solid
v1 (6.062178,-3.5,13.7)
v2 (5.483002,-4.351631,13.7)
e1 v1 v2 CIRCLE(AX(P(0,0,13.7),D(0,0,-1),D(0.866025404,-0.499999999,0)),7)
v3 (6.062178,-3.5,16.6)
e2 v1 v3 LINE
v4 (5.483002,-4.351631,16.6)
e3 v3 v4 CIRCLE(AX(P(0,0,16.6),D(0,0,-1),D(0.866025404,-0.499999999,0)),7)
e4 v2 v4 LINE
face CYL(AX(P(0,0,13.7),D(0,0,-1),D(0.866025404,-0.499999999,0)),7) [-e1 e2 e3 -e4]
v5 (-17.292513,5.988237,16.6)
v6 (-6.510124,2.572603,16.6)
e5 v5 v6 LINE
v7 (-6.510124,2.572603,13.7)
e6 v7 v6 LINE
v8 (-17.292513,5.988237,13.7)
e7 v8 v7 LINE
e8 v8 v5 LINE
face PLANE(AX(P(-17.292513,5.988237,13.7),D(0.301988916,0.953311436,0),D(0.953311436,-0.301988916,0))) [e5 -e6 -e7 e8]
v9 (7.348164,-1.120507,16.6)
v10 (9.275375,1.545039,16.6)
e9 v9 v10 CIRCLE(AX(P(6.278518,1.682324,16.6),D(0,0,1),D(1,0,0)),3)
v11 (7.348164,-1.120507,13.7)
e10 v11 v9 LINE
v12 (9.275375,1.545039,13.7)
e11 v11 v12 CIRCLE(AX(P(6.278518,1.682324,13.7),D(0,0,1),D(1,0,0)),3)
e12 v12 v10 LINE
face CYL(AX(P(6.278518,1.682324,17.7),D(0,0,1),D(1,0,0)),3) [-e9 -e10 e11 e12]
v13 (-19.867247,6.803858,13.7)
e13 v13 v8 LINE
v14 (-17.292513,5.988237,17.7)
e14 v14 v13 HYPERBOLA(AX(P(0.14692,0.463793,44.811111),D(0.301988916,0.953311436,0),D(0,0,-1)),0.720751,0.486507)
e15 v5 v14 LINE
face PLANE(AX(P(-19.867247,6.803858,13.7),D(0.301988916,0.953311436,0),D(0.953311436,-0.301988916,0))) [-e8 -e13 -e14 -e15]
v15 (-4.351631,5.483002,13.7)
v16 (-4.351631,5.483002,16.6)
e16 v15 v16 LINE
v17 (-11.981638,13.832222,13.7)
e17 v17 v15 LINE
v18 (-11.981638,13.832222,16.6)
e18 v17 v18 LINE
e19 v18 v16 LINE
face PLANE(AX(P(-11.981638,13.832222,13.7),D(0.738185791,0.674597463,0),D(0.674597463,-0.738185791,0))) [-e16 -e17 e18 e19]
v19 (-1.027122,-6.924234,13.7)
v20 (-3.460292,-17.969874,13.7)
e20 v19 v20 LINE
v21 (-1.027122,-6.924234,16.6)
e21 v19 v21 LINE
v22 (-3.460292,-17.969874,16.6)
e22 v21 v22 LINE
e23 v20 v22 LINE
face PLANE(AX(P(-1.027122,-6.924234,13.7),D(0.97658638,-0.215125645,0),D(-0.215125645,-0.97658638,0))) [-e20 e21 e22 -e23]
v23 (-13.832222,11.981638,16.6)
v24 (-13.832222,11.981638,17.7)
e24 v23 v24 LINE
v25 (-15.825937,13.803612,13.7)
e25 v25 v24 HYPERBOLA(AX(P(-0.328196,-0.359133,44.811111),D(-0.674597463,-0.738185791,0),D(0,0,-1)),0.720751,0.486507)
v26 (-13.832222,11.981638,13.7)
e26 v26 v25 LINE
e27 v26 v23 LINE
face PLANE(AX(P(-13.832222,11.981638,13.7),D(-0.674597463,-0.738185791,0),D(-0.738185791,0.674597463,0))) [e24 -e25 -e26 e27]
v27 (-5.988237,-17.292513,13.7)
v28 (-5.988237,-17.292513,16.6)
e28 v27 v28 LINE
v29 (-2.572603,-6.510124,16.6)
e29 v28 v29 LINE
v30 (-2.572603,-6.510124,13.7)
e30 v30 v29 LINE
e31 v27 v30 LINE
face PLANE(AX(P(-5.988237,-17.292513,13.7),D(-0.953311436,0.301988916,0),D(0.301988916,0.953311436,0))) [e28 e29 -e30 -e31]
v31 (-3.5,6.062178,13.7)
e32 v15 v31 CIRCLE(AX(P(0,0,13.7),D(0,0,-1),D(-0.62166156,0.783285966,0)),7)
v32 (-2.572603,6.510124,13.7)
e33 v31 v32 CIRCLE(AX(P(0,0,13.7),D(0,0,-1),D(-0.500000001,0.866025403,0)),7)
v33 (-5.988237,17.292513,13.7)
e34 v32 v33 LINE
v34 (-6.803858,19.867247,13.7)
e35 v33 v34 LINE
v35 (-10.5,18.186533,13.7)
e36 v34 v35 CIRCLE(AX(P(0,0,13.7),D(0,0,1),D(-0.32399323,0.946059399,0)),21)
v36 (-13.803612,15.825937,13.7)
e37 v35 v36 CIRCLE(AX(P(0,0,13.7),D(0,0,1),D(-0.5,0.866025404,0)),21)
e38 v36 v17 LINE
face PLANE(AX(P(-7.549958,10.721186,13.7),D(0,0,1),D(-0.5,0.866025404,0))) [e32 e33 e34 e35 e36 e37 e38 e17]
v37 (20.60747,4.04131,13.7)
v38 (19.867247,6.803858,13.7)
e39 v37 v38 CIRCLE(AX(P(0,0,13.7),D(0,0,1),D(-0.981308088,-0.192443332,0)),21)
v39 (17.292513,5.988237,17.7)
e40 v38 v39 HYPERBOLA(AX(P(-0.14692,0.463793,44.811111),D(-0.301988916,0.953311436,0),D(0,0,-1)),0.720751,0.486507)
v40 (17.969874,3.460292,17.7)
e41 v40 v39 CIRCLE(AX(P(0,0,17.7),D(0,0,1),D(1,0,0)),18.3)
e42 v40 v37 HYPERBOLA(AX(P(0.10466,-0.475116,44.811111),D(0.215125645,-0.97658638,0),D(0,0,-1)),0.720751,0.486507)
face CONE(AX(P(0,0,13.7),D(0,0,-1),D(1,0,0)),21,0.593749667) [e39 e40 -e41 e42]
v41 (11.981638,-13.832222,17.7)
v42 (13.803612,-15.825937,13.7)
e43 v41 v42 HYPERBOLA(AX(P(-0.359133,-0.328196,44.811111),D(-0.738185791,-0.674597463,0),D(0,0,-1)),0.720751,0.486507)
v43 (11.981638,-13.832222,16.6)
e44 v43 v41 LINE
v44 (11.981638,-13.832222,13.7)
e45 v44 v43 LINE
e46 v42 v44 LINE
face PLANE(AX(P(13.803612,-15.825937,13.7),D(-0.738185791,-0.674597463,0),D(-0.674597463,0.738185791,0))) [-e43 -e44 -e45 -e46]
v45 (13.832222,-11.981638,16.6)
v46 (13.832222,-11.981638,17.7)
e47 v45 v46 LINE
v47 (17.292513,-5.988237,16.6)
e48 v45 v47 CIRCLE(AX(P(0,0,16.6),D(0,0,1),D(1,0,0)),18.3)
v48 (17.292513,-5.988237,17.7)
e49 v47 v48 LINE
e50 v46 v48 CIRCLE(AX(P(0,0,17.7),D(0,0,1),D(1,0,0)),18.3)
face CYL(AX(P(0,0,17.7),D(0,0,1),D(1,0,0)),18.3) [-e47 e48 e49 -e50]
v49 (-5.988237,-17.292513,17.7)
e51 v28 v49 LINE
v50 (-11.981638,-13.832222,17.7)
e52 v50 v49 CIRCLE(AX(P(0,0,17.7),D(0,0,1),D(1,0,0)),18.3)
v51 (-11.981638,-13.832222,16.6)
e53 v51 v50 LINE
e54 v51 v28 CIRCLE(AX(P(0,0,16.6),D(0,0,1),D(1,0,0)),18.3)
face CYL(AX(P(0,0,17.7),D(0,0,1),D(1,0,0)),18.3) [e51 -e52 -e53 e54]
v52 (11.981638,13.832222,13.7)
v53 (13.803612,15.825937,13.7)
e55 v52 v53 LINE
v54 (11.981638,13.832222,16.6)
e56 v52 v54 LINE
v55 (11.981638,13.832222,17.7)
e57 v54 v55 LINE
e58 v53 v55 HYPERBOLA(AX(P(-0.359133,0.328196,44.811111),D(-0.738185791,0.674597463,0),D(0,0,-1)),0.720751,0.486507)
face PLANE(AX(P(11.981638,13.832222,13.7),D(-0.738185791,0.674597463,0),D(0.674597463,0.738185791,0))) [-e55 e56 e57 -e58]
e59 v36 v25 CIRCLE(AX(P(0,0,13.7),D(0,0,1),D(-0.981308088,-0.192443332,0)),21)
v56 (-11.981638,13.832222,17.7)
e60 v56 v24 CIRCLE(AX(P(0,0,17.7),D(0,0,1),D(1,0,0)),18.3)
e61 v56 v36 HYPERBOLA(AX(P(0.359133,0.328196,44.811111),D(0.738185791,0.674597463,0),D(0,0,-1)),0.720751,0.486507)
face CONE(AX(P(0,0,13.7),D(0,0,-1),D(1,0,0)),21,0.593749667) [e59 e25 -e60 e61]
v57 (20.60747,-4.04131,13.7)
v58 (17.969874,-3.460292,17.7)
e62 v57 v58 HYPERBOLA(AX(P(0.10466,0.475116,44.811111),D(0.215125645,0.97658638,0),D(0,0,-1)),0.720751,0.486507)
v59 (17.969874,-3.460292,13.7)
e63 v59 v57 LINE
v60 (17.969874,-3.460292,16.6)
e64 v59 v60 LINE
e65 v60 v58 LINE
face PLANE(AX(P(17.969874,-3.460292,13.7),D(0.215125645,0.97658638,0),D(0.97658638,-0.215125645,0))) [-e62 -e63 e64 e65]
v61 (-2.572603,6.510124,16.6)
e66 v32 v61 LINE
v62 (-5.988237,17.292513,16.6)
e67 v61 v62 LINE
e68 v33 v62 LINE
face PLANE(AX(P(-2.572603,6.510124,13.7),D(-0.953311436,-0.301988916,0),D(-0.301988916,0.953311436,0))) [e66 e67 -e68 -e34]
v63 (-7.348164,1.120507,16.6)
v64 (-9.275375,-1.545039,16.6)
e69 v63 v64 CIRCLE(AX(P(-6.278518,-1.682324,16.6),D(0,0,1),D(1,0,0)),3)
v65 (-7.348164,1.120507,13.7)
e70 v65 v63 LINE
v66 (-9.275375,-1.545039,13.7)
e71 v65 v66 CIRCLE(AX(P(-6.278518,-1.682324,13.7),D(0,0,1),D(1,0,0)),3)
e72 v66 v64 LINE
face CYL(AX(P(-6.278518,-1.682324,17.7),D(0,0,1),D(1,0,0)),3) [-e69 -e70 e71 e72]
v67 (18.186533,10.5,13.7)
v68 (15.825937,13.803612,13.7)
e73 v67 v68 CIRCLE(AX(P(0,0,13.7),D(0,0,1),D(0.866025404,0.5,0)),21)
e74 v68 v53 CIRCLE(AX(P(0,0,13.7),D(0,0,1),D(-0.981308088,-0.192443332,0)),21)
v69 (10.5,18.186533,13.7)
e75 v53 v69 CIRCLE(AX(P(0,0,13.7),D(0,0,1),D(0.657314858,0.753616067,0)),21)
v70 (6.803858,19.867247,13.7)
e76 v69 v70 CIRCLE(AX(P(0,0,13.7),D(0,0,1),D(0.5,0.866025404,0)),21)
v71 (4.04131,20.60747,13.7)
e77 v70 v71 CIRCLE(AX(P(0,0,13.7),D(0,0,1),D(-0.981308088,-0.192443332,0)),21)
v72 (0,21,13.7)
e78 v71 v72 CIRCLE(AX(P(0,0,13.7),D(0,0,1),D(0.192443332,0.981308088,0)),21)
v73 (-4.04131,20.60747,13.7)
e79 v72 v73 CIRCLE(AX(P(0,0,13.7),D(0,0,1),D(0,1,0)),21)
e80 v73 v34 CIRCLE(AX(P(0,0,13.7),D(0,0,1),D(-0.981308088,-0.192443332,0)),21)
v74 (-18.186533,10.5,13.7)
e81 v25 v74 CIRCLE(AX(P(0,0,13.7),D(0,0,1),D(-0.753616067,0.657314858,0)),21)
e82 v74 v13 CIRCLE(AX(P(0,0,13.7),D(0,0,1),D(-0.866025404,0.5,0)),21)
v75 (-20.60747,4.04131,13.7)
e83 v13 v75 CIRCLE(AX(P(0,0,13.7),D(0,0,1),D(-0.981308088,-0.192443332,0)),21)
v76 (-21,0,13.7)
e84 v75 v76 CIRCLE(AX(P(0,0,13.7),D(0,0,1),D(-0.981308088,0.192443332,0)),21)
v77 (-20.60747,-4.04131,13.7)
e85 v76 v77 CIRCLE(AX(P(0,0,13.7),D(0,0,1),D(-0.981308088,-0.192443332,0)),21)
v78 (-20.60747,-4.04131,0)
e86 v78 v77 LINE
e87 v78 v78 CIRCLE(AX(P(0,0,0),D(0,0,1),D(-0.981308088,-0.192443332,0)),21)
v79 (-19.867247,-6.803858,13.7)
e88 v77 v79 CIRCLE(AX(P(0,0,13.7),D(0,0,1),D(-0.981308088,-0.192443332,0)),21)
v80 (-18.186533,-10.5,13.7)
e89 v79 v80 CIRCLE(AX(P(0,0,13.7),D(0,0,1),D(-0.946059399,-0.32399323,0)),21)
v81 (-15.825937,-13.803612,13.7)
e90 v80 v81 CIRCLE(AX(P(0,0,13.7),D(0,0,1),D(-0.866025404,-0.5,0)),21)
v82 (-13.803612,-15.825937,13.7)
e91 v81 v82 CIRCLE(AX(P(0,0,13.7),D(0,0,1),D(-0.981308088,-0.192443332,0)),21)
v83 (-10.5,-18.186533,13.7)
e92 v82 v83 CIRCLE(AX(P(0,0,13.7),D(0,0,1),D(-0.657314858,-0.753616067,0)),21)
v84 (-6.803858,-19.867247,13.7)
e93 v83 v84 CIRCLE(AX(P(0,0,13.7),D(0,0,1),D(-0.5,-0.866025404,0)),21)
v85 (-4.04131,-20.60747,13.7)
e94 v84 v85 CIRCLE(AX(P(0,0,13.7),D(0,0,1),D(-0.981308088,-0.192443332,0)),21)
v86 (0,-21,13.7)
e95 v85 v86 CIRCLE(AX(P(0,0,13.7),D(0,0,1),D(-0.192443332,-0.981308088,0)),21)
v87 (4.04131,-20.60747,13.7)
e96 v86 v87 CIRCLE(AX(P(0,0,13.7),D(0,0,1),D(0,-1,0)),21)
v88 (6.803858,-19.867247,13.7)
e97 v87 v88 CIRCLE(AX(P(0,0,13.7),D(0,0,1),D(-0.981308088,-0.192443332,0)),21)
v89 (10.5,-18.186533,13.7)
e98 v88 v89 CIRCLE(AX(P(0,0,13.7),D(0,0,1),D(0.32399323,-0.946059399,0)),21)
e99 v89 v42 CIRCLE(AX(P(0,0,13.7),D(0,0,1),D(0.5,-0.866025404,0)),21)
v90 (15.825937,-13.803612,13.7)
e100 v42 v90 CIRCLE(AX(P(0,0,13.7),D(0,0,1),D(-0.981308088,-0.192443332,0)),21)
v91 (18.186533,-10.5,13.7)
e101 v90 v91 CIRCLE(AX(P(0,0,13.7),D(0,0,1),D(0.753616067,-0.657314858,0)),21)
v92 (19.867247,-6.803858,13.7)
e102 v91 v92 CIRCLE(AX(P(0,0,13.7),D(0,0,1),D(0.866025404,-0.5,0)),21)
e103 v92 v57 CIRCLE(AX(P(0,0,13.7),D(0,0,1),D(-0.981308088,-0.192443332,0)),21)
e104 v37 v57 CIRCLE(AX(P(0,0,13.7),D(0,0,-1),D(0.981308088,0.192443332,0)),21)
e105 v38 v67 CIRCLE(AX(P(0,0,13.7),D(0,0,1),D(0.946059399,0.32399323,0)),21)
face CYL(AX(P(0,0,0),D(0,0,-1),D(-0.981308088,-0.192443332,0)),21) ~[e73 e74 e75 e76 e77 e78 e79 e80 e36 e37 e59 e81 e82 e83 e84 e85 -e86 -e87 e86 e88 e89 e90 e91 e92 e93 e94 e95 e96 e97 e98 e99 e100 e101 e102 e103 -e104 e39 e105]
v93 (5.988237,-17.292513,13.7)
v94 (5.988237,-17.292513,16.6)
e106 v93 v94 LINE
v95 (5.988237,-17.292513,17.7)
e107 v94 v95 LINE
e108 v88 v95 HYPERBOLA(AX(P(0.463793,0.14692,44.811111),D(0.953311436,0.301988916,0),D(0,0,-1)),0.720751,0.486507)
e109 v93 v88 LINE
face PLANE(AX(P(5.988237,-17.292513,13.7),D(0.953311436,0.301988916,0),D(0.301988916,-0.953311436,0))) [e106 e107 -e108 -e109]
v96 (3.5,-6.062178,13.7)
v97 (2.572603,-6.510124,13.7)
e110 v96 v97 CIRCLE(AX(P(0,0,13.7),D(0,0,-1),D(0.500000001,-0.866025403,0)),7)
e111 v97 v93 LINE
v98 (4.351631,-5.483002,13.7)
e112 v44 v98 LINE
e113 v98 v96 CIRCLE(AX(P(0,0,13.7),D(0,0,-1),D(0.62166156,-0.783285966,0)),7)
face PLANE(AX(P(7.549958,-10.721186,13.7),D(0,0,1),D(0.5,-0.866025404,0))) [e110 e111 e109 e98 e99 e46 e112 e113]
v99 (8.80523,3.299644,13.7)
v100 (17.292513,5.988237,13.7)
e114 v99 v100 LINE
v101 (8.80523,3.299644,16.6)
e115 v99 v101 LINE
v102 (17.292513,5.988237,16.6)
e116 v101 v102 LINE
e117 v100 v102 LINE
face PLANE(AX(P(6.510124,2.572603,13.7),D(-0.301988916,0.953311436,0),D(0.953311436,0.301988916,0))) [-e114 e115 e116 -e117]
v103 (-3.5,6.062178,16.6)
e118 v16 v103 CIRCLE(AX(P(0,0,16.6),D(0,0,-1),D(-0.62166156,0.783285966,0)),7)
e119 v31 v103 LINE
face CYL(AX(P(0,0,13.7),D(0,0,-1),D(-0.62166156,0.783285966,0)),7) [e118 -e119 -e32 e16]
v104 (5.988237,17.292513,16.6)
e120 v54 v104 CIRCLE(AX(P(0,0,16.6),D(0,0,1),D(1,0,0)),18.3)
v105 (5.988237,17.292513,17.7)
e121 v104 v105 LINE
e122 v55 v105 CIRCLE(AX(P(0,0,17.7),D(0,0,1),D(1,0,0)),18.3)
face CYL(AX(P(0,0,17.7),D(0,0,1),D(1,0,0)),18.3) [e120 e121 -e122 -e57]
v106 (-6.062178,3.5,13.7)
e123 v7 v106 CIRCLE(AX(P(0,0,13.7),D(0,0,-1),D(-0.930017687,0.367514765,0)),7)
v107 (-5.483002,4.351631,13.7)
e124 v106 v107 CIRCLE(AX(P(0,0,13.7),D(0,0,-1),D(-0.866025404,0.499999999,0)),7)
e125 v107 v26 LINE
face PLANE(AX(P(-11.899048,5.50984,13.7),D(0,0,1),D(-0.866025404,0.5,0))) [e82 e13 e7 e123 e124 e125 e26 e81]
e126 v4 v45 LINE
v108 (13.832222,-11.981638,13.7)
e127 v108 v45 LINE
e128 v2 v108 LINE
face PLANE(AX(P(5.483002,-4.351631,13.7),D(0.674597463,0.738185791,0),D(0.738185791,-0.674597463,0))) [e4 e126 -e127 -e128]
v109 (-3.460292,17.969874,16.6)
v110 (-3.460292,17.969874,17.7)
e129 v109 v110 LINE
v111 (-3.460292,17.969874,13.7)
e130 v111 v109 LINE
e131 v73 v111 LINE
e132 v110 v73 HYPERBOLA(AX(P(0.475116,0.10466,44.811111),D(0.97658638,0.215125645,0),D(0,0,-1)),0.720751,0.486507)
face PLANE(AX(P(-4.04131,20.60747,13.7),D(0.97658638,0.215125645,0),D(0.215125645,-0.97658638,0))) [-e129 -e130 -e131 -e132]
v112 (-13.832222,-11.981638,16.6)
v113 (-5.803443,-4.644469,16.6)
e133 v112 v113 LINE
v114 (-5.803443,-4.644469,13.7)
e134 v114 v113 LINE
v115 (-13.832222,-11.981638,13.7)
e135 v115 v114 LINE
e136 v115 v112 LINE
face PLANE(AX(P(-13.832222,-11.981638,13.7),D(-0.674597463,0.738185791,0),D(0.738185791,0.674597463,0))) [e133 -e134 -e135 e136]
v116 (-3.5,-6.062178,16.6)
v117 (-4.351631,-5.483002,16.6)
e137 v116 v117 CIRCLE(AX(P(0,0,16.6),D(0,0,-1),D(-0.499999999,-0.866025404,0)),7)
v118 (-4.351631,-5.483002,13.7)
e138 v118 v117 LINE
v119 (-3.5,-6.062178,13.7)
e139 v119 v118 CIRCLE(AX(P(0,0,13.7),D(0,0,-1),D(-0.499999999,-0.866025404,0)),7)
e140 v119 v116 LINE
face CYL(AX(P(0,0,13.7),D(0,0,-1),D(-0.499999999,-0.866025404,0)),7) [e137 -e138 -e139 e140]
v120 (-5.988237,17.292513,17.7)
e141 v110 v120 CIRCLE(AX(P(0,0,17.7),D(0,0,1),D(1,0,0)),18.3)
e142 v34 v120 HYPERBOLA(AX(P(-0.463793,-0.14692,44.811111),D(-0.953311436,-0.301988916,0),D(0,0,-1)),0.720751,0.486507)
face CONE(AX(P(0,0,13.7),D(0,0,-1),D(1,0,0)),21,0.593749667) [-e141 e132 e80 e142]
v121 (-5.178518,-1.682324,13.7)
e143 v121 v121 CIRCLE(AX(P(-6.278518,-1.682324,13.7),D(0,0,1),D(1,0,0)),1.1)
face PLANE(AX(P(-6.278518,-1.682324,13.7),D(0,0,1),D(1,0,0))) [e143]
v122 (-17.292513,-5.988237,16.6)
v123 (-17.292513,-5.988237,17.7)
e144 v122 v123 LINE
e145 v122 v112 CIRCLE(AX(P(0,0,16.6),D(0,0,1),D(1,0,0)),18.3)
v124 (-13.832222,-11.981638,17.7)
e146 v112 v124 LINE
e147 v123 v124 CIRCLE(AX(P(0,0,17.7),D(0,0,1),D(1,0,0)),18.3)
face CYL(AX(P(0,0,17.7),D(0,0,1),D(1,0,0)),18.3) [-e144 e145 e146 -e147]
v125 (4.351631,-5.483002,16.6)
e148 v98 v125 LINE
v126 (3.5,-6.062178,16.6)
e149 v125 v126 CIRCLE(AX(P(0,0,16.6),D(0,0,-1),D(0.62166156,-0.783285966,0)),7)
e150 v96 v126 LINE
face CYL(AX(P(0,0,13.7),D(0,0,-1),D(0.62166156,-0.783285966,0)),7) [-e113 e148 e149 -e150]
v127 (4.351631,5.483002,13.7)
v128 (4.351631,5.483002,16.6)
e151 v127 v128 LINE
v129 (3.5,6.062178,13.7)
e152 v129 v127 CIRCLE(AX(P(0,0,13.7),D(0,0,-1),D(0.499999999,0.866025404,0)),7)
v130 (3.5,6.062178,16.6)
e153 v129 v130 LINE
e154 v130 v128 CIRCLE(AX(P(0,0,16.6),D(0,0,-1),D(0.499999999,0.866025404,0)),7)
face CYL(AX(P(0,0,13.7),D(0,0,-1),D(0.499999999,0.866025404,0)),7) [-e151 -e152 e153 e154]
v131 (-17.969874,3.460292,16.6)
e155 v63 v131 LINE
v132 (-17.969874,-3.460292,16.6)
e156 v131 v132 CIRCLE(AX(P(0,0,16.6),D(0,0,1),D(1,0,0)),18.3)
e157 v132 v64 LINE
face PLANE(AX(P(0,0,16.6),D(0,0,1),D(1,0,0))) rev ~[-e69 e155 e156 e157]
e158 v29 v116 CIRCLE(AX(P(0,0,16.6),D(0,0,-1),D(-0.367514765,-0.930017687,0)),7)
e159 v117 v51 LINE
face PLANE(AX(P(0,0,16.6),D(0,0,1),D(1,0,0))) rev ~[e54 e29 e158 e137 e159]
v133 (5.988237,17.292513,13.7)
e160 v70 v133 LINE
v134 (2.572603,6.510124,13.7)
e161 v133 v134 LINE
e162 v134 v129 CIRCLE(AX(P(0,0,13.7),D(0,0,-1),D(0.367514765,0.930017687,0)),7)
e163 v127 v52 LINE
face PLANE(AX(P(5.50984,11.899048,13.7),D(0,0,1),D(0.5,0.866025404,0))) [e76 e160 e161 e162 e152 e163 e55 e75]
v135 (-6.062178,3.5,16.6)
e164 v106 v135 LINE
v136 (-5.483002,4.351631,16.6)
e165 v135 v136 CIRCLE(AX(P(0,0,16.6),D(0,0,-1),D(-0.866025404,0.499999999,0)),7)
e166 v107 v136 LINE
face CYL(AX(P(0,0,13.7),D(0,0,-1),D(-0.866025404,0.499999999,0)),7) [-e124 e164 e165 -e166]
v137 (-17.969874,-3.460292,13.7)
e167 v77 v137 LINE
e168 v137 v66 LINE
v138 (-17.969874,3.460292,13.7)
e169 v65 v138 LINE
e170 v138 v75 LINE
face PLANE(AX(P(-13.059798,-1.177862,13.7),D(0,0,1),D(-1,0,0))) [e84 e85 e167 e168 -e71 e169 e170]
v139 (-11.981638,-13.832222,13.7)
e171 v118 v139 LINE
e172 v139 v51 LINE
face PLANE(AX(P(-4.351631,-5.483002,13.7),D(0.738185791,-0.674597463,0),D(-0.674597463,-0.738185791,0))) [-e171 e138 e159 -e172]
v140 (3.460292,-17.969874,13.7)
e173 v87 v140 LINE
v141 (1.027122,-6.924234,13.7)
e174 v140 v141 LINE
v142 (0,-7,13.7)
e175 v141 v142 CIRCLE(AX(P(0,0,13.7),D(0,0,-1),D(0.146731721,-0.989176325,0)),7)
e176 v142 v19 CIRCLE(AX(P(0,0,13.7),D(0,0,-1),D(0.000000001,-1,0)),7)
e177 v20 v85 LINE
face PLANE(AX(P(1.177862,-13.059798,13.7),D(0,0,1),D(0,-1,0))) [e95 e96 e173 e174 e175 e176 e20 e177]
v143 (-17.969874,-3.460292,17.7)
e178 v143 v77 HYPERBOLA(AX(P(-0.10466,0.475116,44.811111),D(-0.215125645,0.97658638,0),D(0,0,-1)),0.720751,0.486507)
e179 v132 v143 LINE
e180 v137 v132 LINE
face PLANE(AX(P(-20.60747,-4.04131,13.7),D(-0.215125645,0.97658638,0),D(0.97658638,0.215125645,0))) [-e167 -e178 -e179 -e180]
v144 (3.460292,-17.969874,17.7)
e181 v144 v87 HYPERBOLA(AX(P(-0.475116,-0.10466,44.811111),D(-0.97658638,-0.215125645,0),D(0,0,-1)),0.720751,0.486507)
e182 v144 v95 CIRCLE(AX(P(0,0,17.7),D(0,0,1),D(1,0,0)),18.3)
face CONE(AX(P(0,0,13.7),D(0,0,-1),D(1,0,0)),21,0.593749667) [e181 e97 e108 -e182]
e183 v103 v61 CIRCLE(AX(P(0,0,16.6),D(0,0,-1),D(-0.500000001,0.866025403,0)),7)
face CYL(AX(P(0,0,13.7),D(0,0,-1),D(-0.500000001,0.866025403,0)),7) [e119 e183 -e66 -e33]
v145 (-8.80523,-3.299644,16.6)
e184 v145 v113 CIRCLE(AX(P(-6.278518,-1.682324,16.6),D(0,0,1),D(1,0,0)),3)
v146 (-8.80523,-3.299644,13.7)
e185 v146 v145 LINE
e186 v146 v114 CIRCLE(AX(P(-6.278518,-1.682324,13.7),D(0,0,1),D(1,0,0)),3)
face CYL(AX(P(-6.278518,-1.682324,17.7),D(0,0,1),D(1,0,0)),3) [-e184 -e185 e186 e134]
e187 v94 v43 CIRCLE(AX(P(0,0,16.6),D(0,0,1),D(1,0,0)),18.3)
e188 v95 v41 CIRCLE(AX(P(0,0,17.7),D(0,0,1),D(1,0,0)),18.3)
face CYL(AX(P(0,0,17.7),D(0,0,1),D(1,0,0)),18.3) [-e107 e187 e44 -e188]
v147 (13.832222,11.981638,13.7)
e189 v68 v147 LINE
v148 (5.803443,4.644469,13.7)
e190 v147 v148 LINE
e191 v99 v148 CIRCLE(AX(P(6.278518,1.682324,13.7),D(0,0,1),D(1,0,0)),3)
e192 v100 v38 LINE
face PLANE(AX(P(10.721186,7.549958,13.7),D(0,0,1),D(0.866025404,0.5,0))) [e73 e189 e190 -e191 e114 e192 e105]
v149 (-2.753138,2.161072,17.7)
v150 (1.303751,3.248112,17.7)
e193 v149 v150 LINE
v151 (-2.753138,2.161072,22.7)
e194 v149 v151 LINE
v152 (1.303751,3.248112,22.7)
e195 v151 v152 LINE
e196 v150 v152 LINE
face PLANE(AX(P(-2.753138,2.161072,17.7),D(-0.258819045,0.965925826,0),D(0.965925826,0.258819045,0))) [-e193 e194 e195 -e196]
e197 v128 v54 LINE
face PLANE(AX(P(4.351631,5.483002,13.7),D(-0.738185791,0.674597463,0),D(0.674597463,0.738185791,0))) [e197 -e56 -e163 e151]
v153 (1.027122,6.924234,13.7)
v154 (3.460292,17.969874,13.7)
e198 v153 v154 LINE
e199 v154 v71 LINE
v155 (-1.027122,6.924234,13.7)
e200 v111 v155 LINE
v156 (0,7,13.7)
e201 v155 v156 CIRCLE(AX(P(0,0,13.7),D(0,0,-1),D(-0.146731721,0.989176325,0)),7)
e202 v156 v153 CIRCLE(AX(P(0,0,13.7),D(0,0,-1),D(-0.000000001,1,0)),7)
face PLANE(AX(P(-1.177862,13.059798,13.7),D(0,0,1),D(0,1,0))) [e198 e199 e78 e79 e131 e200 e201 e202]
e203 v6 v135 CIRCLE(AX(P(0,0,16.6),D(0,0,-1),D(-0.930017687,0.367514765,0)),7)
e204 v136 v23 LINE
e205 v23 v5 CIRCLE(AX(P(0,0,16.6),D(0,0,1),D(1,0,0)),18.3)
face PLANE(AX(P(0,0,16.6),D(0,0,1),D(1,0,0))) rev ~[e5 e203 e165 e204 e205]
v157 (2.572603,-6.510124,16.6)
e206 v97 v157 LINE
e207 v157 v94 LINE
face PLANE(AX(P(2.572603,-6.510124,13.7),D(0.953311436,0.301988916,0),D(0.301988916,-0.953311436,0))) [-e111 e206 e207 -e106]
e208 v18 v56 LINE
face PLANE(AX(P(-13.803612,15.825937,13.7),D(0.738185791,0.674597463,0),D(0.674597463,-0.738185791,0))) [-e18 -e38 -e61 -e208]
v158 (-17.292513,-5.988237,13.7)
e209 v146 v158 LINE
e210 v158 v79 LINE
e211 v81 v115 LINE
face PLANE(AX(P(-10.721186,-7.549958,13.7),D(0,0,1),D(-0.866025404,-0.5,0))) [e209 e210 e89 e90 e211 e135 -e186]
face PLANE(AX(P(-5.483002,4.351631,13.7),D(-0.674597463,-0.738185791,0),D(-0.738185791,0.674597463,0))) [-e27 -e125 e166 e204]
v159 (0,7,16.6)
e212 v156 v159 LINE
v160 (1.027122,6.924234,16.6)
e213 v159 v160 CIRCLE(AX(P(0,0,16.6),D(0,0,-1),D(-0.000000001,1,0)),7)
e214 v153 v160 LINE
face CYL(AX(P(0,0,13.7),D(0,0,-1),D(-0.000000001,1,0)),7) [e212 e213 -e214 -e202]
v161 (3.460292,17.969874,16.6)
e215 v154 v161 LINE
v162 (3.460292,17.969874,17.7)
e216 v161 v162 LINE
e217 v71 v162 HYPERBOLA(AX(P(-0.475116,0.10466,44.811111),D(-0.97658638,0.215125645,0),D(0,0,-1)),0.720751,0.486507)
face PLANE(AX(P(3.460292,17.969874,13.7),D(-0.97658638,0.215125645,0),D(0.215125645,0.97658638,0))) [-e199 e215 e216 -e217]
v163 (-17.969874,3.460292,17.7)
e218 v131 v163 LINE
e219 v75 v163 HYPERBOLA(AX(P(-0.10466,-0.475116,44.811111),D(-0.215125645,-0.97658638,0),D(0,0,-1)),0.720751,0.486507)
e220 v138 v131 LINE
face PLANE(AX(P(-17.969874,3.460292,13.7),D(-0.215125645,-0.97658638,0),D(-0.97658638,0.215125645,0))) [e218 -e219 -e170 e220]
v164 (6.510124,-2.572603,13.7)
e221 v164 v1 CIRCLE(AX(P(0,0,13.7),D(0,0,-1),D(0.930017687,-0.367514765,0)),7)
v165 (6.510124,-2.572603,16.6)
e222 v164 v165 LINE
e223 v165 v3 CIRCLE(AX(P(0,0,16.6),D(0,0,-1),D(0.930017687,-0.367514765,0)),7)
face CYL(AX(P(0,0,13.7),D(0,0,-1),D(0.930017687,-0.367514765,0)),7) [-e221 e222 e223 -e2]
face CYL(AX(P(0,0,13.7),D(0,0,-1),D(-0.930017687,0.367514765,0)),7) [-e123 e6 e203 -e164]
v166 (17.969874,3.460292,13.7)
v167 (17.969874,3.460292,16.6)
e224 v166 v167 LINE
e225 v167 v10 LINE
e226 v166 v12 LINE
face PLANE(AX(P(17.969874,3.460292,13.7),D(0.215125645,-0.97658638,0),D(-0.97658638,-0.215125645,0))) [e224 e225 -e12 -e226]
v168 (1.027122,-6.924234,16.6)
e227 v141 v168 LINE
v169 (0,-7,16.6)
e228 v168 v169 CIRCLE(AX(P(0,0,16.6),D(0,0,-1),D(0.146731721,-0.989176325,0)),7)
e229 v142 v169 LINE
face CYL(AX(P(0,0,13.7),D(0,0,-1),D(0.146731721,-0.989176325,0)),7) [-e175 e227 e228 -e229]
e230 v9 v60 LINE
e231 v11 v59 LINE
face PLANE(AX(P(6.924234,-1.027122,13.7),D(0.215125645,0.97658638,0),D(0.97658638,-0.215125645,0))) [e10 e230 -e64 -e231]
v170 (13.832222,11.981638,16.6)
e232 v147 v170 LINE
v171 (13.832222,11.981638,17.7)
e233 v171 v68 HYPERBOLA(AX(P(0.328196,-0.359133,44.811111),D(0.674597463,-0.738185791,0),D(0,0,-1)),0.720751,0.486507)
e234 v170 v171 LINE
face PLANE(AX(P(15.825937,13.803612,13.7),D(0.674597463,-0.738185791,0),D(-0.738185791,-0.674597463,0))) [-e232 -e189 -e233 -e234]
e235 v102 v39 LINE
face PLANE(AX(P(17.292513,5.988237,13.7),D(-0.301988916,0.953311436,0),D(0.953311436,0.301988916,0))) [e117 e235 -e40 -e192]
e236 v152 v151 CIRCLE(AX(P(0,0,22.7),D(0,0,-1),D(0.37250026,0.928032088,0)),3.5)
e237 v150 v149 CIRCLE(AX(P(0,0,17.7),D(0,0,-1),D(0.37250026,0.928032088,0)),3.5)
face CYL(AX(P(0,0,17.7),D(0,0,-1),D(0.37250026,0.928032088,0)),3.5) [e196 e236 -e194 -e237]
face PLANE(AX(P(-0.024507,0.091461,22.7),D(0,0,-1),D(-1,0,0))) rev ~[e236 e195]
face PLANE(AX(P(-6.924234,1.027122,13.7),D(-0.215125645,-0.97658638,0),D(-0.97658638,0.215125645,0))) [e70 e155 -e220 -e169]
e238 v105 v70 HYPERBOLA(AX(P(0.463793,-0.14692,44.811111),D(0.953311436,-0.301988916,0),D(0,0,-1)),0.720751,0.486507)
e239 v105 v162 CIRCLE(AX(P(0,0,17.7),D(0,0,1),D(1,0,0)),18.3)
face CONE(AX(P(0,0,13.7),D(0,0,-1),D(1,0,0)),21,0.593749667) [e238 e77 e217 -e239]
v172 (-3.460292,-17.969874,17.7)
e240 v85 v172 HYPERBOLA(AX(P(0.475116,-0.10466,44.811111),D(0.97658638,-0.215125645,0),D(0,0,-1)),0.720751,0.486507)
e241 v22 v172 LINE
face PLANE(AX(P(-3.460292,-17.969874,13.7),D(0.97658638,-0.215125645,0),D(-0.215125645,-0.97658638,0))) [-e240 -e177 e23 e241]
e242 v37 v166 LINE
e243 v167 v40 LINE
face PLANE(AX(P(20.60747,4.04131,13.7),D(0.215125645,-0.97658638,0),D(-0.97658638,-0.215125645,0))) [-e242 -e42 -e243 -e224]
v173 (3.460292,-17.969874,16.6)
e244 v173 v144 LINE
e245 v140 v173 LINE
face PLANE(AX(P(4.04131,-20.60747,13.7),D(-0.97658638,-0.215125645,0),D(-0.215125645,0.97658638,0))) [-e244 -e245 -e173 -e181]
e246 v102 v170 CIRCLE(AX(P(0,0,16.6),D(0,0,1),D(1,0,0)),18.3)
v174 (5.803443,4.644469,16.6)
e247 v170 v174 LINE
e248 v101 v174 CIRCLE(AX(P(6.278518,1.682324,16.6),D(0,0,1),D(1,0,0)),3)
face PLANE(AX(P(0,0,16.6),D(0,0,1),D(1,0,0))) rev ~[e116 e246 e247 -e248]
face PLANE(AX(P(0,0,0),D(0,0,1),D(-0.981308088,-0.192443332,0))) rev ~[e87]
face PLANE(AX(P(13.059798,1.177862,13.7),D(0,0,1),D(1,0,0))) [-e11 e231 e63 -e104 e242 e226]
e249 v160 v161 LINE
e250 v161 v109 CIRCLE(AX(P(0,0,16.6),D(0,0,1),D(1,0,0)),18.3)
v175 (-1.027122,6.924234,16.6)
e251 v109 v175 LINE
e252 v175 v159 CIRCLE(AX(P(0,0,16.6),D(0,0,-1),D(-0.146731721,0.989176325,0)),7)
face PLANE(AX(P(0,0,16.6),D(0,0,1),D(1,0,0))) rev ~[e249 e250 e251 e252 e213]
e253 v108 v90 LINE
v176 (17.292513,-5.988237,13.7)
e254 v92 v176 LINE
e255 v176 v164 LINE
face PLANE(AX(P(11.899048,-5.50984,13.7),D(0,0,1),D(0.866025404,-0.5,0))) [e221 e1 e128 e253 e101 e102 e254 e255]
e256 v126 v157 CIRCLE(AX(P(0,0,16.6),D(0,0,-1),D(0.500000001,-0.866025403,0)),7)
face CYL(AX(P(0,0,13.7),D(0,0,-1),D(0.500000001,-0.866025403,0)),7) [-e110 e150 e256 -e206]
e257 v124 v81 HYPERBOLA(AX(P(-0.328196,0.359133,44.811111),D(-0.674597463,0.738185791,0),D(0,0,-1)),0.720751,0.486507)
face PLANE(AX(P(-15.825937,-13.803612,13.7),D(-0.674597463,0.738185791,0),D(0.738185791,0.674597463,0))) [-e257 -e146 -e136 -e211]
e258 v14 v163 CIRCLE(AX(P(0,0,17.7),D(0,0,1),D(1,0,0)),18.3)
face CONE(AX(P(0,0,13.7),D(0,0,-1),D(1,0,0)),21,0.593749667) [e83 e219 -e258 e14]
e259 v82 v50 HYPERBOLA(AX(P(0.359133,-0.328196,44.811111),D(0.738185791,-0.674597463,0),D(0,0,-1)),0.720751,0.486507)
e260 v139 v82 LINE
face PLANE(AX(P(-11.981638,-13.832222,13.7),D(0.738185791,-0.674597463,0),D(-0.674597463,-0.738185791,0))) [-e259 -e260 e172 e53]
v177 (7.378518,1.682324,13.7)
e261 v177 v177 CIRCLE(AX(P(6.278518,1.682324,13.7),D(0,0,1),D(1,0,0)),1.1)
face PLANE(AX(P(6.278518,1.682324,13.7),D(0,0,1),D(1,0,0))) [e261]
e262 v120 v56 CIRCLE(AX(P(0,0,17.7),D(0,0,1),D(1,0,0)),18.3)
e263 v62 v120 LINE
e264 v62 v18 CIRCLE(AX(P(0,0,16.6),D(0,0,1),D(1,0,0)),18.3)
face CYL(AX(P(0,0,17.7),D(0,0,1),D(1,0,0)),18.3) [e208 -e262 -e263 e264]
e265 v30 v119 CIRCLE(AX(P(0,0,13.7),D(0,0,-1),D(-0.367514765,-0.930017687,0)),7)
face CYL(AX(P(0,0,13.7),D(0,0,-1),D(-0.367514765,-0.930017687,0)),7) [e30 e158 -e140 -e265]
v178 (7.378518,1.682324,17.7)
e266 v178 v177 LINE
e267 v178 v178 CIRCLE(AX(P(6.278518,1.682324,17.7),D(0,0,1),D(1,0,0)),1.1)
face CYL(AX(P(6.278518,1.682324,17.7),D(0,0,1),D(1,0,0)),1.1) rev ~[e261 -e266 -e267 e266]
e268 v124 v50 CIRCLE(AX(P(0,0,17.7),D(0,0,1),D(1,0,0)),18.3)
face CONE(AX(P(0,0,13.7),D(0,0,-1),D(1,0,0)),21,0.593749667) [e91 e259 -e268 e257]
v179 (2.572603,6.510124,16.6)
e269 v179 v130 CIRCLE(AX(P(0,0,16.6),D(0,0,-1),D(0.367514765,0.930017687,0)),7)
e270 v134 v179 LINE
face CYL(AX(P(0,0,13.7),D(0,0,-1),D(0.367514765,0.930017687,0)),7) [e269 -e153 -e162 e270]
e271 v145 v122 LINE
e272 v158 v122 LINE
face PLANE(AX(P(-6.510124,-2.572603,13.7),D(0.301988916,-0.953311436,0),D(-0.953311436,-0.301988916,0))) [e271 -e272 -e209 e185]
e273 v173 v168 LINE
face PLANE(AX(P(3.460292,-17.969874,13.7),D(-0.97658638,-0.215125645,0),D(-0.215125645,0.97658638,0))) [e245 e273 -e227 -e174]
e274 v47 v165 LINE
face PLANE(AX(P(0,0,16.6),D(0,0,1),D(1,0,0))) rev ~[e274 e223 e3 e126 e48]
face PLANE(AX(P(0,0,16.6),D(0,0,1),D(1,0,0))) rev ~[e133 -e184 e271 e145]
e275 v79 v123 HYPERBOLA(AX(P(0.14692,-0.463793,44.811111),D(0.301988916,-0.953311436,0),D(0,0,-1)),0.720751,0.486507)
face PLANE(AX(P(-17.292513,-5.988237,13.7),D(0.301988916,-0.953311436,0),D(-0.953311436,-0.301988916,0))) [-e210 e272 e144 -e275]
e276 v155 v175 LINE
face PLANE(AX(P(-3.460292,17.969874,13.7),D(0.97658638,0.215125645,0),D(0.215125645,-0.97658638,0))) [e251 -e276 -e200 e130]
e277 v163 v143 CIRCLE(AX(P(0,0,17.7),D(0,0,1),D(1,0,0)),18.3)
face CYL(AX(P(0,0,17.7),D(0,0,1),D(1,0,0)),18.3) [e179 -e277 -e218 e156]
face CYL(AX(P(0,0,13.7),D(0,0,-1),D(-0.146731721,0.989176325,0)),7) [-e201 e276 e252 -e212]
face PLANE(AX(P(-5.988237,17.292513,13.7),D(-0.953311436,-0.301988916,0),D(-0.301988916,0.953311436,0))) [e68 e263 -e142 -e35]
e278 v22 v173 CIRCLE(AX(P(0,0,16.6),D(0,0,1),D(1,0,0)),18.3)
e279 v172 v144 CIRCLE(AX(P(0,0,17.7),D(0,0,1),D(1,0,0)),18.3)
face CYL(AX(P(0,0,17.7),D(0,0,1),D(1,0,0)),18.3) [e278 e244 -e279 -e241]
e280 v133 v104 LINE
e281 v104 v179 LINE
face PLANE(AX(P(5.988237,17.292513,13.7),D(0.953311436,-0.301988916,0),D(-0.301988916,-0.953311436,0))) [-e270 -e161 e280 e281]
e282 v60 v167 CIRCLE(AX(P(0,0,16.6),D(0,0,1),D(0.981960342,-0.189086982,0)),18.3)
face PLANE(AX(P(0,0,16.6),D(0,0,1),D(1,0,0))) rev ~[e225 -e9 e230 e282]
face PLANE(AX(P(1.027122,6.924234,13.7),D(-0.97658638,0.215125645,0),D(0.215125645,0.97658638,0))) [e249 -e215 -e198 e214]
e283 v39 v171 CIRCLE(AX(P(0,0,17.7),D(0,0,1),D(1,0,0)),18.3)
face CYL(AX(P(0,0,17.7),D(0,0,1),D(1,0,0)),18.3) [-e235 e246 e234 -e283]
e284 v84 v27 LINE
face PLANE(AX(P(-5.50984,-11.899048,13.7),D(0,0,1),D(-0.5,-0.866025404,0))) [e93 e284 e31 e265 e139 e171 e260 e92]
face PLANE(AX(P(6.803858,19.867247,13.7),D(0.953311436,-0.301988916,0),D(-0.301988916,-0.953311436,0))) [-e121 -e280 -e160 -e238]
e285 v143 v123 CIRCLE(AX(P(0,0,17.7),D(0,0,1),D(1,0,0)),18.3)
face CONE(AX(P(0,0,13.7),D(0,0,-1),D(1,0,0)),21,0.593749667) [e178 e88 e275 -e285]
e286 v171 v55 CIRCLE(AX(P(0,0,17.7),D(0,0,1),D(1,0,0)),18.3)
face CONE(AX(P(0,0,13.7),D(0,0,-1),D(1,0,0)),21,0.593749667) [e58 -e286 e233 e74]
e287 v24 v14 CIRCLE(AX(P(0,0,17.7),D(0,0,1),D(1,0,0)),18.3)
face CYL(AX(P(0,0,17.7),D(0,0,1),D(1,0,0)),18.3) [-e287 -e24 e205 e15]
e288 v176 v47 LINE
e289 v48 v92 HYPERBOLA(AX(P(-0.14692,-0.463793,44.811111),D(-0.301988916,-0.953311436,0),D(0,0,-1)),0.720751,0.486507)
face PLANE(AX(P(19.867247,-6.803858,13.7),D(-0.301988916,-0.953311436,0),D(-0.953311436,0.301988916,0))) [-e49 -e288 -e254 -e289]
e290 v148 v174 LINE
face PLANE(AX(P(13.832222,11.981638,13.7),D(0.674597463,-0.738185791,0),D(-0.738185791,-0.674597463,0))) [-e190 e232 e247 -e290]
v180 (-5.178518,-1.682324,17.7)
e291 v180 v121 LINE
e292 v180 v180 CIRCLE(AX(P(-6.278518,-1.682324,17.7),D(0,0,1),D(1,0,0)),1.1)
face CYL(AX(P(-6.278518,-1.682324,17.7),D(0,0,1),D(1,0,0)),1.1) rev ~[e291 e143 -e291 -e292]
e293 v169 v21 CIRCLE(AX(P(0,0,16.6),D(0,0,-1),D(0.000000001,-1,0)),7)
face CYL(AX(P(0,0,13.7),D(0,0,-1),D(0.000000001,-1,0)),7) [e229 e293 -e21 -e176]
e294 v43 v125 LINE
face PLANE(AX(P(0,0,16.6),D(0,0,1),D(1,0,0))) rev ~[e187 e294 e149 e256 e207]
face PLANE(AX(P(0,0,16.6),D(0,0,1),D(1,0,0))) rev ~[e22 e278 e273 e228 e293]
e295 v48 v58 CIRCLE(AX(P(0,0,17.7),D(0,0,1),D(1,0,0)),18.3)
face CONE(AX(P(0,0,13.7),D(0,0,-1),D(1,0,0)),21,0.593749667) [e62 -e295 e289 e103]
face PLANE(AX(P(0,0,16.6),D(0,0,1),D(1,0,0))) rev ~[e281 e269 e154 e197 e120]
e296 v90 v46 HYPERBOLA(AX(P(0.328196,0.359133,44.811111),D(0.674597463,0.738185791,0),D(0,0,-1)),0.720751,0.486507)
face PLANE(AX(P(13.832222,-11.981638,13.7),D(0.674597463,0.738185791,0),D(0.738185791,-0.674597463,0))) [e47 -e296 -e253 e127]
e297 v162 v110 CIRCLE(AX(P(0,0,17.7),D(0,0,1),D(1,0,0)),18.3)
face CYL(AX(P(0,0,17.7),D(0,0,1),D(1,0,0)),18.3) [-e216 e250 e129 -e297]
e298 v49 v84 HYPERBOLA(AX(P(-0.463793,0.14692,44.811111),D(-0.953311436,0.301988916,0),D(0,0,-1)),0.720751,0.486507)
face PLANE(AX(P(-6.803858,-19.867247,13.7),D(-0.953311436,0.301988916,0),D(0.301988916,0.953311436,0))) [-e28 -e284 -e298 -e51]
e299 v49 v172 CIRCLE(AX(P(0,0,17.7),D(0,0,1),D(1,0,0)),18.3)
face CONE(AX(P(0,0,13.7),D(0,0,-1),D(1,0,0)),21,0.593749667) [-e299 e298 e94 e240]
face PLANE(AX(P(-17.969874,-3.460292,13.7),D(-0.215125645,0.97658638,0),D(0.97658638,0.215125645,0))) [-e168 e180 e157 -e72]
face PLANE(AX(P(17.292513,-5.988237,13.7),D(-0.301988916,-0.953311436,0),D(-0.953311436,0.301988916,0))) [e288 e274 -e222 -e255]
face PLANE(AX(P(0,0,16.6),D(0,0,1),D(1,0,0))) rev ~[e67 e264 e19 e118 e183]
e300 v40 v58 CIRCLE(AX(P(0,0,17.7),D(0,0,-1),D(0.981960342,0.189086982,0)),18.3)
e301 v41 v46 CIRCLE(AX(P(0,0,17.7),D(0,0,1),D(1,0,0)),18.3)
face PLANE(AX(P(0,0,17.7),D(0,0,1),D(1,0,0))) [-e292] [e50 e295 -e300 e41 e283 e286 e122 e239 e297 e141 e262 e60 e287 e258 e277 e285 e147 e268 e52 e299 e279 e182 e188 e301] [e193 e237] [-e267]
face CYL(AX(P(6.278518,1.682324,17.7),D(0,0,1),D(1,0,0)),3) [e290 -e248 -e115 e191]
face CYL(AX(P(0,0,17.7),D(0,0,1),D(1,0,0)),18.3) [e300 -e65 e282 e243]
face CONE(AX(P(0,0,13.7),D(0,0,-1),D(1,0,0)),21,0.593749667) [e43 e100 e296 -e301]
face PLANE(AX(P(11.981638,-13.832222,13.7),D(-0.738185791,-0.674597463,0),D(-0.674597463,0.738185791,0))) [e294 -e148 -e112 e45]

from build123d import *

# Parameters (mm, degrees)
SKETCH_1_R               = 21
EXTRUDE_1_DEPTH          = 13.7
SKETCH_3_R               = 21
SKETCH_2_R               = 18.3
CUT_EXTRUDE_START        = -4
CUT_EXTRUDE_1_DEPTH      = 4
PATTERN_CIRCULAR_1_COUNT = 12
SKETCH_5_R               = 18.3
EXTRUDE_2_DEPTH          = 1.1
EXTRUDE_3_DEPTH          = 5
SKETCH_8_R               = 3
EXTRUDE_4_DEPTH          = 4
SKETCH_9_R               = 1.1
CUT_EXTRUDE_3_DEPTH      = 4


with BuildPart() as part:
    # 草图1 → 凸台-拉伸1 (new body)
    with BuildSketch(Plane.XY):
        with Locations(Location((0, 0, 0), (0, 0, 191.095408705))):
            Circle(SKETCH_1_R)
    extrude(amount=EXTRUDE_1_DEPTH)

    # 草图3 → 放样1 section 0
    with BuildSketch(Plane.XY.offset(13.7)):
        Circle(SKETCH_3_R)
    # 草图2 → 放样1 section 1
    with BuildSketch(Plane.XY.offset(17.7)):
        Circle(SKETCH_2_R)
    loft()

    # 草图4 → 切除-拉伸1 (cut)
    with BuildSketch(Plane.XY.offset(17.7).offset(CUT_EXTRUDE_START)):
        with BuildLine():
            ThreePointArc((6.924234277, 1.027122038), (6.981032873, 0.51495634), (7, 0))
            Line((7, 0), (18.3, 0))
            ThreePointArc((18.3, 0), (18.217281615, 1.738001882), (17.969874258, 3.460291774))
            Line((17.969874258, 3.460291774), (6.924234277, 1.027122038))
        make_face()
        with BuildLine():
            Line((18.3, 0), (7, 0))
            ThreePointArc((7, 0), (6.981032873, -0.51495634), (6.924234277, -1.027122038))
            Line((6.924234277, -1.027122038), (17.969874258, -3.460291774))
            ThreePointArc((17.969874258, -3.460291774), (18.217281615, -1.738001882), (18.3, 0))
        make_face()
        with BuildLine():
            ThreePointArc((17.969874258, 3.460291774), (18.217281615, 1.738001882), (18.3, 0))
            Line((18.3, 0), (21, 0))
            ThreePointArc((21, 0), (20.9016371, 2.030164166), (20.607469853, 4.041309967))
            Line((20.607469853, 4.041309967), (17.969874258, 3.460291774))
        make_face()
        with BuildLine():
            Line((21, 0), (18.3, 0))
            ThreePointArc((18.3, 0), (18.217281615, -1.738001882), (17.969874258, -3.460291774))
            Line((17.969874258, -3.460291774), (20.607469853, -4.041309967))
            ThreePointArc((20.607469853, -4.041309967), (20.9016371, -2.030164166), (21, 0))
        make_face()
    cut_extrude_1 = extrude(amount=CUT_EXTRUDE_1_DEPTH, mode=Mode.SUBTRACT)

    # 阵列(圆周)1: 切除-拉伸1 ×12 about axis
    pattern_circular_1_axis = Axis((0, 0, 0), (0, 0, -1))
    for i in range(1, PATTERN_CIRCULAR_1_COUNT):
        add(cut_extrude_1.rotate(pattern_circular_1_axis, i * 360 / PATTERN_CIRCULAR_1_COUNT), mode=Mode.SUBTRACT)

    # 草图5 → 凸台-拉伸2 (add)
    with BuildSketch(Plane.XY.offset(17.7)):
        Circle(SKETCH_5_R)
    extrude(amount=-EXTRUDE_2_DEPTH)

    # 草图6 → 凸台-拉伸3 (add)
    with BuildSketch(Plane.XY.offset(17.7)):
        with BuildLine():
            Line((-2.753137561, 2.161072319), (1.303750909, 3.248112308))
            ThreePointArc((1.303750909, 3.248112308), (0.905866658, -3.380740392), (-2.753137561, 2.161072319))
        make_face()
    extrude(amount=EXTRUDE_3_DEPTH)

    # 草图8 → 凸台-拉伸4 (add)
    with BuildSketch(Plane.XY.offset(17.7)):
        with Locations((6.278517871, 1.682323793)):
            Circle(SKETCH_8_R)
        with Locations((-6.278517871, -1.682323793)):
            Circle(SKETCH_8_R)
    extrude(amount=-EXTRUDE_4_DEPTH)

    # 草图9 → 切除-拉伸3 (cut)
    with BuildSketch(Plane.XY.offset(17.7)):
        with Locations((6.278517871, 1.682323793)):
            Circle(SKETCH_9_R)
        with Locations((-6.278517871, -1.682323793)):
            Circle(SKETCH_9_R)
    extrude(amount=-CUT_EXTRUDE_3_DEPTH, mode=Mode.SUBTRACT)


solid = part.part
